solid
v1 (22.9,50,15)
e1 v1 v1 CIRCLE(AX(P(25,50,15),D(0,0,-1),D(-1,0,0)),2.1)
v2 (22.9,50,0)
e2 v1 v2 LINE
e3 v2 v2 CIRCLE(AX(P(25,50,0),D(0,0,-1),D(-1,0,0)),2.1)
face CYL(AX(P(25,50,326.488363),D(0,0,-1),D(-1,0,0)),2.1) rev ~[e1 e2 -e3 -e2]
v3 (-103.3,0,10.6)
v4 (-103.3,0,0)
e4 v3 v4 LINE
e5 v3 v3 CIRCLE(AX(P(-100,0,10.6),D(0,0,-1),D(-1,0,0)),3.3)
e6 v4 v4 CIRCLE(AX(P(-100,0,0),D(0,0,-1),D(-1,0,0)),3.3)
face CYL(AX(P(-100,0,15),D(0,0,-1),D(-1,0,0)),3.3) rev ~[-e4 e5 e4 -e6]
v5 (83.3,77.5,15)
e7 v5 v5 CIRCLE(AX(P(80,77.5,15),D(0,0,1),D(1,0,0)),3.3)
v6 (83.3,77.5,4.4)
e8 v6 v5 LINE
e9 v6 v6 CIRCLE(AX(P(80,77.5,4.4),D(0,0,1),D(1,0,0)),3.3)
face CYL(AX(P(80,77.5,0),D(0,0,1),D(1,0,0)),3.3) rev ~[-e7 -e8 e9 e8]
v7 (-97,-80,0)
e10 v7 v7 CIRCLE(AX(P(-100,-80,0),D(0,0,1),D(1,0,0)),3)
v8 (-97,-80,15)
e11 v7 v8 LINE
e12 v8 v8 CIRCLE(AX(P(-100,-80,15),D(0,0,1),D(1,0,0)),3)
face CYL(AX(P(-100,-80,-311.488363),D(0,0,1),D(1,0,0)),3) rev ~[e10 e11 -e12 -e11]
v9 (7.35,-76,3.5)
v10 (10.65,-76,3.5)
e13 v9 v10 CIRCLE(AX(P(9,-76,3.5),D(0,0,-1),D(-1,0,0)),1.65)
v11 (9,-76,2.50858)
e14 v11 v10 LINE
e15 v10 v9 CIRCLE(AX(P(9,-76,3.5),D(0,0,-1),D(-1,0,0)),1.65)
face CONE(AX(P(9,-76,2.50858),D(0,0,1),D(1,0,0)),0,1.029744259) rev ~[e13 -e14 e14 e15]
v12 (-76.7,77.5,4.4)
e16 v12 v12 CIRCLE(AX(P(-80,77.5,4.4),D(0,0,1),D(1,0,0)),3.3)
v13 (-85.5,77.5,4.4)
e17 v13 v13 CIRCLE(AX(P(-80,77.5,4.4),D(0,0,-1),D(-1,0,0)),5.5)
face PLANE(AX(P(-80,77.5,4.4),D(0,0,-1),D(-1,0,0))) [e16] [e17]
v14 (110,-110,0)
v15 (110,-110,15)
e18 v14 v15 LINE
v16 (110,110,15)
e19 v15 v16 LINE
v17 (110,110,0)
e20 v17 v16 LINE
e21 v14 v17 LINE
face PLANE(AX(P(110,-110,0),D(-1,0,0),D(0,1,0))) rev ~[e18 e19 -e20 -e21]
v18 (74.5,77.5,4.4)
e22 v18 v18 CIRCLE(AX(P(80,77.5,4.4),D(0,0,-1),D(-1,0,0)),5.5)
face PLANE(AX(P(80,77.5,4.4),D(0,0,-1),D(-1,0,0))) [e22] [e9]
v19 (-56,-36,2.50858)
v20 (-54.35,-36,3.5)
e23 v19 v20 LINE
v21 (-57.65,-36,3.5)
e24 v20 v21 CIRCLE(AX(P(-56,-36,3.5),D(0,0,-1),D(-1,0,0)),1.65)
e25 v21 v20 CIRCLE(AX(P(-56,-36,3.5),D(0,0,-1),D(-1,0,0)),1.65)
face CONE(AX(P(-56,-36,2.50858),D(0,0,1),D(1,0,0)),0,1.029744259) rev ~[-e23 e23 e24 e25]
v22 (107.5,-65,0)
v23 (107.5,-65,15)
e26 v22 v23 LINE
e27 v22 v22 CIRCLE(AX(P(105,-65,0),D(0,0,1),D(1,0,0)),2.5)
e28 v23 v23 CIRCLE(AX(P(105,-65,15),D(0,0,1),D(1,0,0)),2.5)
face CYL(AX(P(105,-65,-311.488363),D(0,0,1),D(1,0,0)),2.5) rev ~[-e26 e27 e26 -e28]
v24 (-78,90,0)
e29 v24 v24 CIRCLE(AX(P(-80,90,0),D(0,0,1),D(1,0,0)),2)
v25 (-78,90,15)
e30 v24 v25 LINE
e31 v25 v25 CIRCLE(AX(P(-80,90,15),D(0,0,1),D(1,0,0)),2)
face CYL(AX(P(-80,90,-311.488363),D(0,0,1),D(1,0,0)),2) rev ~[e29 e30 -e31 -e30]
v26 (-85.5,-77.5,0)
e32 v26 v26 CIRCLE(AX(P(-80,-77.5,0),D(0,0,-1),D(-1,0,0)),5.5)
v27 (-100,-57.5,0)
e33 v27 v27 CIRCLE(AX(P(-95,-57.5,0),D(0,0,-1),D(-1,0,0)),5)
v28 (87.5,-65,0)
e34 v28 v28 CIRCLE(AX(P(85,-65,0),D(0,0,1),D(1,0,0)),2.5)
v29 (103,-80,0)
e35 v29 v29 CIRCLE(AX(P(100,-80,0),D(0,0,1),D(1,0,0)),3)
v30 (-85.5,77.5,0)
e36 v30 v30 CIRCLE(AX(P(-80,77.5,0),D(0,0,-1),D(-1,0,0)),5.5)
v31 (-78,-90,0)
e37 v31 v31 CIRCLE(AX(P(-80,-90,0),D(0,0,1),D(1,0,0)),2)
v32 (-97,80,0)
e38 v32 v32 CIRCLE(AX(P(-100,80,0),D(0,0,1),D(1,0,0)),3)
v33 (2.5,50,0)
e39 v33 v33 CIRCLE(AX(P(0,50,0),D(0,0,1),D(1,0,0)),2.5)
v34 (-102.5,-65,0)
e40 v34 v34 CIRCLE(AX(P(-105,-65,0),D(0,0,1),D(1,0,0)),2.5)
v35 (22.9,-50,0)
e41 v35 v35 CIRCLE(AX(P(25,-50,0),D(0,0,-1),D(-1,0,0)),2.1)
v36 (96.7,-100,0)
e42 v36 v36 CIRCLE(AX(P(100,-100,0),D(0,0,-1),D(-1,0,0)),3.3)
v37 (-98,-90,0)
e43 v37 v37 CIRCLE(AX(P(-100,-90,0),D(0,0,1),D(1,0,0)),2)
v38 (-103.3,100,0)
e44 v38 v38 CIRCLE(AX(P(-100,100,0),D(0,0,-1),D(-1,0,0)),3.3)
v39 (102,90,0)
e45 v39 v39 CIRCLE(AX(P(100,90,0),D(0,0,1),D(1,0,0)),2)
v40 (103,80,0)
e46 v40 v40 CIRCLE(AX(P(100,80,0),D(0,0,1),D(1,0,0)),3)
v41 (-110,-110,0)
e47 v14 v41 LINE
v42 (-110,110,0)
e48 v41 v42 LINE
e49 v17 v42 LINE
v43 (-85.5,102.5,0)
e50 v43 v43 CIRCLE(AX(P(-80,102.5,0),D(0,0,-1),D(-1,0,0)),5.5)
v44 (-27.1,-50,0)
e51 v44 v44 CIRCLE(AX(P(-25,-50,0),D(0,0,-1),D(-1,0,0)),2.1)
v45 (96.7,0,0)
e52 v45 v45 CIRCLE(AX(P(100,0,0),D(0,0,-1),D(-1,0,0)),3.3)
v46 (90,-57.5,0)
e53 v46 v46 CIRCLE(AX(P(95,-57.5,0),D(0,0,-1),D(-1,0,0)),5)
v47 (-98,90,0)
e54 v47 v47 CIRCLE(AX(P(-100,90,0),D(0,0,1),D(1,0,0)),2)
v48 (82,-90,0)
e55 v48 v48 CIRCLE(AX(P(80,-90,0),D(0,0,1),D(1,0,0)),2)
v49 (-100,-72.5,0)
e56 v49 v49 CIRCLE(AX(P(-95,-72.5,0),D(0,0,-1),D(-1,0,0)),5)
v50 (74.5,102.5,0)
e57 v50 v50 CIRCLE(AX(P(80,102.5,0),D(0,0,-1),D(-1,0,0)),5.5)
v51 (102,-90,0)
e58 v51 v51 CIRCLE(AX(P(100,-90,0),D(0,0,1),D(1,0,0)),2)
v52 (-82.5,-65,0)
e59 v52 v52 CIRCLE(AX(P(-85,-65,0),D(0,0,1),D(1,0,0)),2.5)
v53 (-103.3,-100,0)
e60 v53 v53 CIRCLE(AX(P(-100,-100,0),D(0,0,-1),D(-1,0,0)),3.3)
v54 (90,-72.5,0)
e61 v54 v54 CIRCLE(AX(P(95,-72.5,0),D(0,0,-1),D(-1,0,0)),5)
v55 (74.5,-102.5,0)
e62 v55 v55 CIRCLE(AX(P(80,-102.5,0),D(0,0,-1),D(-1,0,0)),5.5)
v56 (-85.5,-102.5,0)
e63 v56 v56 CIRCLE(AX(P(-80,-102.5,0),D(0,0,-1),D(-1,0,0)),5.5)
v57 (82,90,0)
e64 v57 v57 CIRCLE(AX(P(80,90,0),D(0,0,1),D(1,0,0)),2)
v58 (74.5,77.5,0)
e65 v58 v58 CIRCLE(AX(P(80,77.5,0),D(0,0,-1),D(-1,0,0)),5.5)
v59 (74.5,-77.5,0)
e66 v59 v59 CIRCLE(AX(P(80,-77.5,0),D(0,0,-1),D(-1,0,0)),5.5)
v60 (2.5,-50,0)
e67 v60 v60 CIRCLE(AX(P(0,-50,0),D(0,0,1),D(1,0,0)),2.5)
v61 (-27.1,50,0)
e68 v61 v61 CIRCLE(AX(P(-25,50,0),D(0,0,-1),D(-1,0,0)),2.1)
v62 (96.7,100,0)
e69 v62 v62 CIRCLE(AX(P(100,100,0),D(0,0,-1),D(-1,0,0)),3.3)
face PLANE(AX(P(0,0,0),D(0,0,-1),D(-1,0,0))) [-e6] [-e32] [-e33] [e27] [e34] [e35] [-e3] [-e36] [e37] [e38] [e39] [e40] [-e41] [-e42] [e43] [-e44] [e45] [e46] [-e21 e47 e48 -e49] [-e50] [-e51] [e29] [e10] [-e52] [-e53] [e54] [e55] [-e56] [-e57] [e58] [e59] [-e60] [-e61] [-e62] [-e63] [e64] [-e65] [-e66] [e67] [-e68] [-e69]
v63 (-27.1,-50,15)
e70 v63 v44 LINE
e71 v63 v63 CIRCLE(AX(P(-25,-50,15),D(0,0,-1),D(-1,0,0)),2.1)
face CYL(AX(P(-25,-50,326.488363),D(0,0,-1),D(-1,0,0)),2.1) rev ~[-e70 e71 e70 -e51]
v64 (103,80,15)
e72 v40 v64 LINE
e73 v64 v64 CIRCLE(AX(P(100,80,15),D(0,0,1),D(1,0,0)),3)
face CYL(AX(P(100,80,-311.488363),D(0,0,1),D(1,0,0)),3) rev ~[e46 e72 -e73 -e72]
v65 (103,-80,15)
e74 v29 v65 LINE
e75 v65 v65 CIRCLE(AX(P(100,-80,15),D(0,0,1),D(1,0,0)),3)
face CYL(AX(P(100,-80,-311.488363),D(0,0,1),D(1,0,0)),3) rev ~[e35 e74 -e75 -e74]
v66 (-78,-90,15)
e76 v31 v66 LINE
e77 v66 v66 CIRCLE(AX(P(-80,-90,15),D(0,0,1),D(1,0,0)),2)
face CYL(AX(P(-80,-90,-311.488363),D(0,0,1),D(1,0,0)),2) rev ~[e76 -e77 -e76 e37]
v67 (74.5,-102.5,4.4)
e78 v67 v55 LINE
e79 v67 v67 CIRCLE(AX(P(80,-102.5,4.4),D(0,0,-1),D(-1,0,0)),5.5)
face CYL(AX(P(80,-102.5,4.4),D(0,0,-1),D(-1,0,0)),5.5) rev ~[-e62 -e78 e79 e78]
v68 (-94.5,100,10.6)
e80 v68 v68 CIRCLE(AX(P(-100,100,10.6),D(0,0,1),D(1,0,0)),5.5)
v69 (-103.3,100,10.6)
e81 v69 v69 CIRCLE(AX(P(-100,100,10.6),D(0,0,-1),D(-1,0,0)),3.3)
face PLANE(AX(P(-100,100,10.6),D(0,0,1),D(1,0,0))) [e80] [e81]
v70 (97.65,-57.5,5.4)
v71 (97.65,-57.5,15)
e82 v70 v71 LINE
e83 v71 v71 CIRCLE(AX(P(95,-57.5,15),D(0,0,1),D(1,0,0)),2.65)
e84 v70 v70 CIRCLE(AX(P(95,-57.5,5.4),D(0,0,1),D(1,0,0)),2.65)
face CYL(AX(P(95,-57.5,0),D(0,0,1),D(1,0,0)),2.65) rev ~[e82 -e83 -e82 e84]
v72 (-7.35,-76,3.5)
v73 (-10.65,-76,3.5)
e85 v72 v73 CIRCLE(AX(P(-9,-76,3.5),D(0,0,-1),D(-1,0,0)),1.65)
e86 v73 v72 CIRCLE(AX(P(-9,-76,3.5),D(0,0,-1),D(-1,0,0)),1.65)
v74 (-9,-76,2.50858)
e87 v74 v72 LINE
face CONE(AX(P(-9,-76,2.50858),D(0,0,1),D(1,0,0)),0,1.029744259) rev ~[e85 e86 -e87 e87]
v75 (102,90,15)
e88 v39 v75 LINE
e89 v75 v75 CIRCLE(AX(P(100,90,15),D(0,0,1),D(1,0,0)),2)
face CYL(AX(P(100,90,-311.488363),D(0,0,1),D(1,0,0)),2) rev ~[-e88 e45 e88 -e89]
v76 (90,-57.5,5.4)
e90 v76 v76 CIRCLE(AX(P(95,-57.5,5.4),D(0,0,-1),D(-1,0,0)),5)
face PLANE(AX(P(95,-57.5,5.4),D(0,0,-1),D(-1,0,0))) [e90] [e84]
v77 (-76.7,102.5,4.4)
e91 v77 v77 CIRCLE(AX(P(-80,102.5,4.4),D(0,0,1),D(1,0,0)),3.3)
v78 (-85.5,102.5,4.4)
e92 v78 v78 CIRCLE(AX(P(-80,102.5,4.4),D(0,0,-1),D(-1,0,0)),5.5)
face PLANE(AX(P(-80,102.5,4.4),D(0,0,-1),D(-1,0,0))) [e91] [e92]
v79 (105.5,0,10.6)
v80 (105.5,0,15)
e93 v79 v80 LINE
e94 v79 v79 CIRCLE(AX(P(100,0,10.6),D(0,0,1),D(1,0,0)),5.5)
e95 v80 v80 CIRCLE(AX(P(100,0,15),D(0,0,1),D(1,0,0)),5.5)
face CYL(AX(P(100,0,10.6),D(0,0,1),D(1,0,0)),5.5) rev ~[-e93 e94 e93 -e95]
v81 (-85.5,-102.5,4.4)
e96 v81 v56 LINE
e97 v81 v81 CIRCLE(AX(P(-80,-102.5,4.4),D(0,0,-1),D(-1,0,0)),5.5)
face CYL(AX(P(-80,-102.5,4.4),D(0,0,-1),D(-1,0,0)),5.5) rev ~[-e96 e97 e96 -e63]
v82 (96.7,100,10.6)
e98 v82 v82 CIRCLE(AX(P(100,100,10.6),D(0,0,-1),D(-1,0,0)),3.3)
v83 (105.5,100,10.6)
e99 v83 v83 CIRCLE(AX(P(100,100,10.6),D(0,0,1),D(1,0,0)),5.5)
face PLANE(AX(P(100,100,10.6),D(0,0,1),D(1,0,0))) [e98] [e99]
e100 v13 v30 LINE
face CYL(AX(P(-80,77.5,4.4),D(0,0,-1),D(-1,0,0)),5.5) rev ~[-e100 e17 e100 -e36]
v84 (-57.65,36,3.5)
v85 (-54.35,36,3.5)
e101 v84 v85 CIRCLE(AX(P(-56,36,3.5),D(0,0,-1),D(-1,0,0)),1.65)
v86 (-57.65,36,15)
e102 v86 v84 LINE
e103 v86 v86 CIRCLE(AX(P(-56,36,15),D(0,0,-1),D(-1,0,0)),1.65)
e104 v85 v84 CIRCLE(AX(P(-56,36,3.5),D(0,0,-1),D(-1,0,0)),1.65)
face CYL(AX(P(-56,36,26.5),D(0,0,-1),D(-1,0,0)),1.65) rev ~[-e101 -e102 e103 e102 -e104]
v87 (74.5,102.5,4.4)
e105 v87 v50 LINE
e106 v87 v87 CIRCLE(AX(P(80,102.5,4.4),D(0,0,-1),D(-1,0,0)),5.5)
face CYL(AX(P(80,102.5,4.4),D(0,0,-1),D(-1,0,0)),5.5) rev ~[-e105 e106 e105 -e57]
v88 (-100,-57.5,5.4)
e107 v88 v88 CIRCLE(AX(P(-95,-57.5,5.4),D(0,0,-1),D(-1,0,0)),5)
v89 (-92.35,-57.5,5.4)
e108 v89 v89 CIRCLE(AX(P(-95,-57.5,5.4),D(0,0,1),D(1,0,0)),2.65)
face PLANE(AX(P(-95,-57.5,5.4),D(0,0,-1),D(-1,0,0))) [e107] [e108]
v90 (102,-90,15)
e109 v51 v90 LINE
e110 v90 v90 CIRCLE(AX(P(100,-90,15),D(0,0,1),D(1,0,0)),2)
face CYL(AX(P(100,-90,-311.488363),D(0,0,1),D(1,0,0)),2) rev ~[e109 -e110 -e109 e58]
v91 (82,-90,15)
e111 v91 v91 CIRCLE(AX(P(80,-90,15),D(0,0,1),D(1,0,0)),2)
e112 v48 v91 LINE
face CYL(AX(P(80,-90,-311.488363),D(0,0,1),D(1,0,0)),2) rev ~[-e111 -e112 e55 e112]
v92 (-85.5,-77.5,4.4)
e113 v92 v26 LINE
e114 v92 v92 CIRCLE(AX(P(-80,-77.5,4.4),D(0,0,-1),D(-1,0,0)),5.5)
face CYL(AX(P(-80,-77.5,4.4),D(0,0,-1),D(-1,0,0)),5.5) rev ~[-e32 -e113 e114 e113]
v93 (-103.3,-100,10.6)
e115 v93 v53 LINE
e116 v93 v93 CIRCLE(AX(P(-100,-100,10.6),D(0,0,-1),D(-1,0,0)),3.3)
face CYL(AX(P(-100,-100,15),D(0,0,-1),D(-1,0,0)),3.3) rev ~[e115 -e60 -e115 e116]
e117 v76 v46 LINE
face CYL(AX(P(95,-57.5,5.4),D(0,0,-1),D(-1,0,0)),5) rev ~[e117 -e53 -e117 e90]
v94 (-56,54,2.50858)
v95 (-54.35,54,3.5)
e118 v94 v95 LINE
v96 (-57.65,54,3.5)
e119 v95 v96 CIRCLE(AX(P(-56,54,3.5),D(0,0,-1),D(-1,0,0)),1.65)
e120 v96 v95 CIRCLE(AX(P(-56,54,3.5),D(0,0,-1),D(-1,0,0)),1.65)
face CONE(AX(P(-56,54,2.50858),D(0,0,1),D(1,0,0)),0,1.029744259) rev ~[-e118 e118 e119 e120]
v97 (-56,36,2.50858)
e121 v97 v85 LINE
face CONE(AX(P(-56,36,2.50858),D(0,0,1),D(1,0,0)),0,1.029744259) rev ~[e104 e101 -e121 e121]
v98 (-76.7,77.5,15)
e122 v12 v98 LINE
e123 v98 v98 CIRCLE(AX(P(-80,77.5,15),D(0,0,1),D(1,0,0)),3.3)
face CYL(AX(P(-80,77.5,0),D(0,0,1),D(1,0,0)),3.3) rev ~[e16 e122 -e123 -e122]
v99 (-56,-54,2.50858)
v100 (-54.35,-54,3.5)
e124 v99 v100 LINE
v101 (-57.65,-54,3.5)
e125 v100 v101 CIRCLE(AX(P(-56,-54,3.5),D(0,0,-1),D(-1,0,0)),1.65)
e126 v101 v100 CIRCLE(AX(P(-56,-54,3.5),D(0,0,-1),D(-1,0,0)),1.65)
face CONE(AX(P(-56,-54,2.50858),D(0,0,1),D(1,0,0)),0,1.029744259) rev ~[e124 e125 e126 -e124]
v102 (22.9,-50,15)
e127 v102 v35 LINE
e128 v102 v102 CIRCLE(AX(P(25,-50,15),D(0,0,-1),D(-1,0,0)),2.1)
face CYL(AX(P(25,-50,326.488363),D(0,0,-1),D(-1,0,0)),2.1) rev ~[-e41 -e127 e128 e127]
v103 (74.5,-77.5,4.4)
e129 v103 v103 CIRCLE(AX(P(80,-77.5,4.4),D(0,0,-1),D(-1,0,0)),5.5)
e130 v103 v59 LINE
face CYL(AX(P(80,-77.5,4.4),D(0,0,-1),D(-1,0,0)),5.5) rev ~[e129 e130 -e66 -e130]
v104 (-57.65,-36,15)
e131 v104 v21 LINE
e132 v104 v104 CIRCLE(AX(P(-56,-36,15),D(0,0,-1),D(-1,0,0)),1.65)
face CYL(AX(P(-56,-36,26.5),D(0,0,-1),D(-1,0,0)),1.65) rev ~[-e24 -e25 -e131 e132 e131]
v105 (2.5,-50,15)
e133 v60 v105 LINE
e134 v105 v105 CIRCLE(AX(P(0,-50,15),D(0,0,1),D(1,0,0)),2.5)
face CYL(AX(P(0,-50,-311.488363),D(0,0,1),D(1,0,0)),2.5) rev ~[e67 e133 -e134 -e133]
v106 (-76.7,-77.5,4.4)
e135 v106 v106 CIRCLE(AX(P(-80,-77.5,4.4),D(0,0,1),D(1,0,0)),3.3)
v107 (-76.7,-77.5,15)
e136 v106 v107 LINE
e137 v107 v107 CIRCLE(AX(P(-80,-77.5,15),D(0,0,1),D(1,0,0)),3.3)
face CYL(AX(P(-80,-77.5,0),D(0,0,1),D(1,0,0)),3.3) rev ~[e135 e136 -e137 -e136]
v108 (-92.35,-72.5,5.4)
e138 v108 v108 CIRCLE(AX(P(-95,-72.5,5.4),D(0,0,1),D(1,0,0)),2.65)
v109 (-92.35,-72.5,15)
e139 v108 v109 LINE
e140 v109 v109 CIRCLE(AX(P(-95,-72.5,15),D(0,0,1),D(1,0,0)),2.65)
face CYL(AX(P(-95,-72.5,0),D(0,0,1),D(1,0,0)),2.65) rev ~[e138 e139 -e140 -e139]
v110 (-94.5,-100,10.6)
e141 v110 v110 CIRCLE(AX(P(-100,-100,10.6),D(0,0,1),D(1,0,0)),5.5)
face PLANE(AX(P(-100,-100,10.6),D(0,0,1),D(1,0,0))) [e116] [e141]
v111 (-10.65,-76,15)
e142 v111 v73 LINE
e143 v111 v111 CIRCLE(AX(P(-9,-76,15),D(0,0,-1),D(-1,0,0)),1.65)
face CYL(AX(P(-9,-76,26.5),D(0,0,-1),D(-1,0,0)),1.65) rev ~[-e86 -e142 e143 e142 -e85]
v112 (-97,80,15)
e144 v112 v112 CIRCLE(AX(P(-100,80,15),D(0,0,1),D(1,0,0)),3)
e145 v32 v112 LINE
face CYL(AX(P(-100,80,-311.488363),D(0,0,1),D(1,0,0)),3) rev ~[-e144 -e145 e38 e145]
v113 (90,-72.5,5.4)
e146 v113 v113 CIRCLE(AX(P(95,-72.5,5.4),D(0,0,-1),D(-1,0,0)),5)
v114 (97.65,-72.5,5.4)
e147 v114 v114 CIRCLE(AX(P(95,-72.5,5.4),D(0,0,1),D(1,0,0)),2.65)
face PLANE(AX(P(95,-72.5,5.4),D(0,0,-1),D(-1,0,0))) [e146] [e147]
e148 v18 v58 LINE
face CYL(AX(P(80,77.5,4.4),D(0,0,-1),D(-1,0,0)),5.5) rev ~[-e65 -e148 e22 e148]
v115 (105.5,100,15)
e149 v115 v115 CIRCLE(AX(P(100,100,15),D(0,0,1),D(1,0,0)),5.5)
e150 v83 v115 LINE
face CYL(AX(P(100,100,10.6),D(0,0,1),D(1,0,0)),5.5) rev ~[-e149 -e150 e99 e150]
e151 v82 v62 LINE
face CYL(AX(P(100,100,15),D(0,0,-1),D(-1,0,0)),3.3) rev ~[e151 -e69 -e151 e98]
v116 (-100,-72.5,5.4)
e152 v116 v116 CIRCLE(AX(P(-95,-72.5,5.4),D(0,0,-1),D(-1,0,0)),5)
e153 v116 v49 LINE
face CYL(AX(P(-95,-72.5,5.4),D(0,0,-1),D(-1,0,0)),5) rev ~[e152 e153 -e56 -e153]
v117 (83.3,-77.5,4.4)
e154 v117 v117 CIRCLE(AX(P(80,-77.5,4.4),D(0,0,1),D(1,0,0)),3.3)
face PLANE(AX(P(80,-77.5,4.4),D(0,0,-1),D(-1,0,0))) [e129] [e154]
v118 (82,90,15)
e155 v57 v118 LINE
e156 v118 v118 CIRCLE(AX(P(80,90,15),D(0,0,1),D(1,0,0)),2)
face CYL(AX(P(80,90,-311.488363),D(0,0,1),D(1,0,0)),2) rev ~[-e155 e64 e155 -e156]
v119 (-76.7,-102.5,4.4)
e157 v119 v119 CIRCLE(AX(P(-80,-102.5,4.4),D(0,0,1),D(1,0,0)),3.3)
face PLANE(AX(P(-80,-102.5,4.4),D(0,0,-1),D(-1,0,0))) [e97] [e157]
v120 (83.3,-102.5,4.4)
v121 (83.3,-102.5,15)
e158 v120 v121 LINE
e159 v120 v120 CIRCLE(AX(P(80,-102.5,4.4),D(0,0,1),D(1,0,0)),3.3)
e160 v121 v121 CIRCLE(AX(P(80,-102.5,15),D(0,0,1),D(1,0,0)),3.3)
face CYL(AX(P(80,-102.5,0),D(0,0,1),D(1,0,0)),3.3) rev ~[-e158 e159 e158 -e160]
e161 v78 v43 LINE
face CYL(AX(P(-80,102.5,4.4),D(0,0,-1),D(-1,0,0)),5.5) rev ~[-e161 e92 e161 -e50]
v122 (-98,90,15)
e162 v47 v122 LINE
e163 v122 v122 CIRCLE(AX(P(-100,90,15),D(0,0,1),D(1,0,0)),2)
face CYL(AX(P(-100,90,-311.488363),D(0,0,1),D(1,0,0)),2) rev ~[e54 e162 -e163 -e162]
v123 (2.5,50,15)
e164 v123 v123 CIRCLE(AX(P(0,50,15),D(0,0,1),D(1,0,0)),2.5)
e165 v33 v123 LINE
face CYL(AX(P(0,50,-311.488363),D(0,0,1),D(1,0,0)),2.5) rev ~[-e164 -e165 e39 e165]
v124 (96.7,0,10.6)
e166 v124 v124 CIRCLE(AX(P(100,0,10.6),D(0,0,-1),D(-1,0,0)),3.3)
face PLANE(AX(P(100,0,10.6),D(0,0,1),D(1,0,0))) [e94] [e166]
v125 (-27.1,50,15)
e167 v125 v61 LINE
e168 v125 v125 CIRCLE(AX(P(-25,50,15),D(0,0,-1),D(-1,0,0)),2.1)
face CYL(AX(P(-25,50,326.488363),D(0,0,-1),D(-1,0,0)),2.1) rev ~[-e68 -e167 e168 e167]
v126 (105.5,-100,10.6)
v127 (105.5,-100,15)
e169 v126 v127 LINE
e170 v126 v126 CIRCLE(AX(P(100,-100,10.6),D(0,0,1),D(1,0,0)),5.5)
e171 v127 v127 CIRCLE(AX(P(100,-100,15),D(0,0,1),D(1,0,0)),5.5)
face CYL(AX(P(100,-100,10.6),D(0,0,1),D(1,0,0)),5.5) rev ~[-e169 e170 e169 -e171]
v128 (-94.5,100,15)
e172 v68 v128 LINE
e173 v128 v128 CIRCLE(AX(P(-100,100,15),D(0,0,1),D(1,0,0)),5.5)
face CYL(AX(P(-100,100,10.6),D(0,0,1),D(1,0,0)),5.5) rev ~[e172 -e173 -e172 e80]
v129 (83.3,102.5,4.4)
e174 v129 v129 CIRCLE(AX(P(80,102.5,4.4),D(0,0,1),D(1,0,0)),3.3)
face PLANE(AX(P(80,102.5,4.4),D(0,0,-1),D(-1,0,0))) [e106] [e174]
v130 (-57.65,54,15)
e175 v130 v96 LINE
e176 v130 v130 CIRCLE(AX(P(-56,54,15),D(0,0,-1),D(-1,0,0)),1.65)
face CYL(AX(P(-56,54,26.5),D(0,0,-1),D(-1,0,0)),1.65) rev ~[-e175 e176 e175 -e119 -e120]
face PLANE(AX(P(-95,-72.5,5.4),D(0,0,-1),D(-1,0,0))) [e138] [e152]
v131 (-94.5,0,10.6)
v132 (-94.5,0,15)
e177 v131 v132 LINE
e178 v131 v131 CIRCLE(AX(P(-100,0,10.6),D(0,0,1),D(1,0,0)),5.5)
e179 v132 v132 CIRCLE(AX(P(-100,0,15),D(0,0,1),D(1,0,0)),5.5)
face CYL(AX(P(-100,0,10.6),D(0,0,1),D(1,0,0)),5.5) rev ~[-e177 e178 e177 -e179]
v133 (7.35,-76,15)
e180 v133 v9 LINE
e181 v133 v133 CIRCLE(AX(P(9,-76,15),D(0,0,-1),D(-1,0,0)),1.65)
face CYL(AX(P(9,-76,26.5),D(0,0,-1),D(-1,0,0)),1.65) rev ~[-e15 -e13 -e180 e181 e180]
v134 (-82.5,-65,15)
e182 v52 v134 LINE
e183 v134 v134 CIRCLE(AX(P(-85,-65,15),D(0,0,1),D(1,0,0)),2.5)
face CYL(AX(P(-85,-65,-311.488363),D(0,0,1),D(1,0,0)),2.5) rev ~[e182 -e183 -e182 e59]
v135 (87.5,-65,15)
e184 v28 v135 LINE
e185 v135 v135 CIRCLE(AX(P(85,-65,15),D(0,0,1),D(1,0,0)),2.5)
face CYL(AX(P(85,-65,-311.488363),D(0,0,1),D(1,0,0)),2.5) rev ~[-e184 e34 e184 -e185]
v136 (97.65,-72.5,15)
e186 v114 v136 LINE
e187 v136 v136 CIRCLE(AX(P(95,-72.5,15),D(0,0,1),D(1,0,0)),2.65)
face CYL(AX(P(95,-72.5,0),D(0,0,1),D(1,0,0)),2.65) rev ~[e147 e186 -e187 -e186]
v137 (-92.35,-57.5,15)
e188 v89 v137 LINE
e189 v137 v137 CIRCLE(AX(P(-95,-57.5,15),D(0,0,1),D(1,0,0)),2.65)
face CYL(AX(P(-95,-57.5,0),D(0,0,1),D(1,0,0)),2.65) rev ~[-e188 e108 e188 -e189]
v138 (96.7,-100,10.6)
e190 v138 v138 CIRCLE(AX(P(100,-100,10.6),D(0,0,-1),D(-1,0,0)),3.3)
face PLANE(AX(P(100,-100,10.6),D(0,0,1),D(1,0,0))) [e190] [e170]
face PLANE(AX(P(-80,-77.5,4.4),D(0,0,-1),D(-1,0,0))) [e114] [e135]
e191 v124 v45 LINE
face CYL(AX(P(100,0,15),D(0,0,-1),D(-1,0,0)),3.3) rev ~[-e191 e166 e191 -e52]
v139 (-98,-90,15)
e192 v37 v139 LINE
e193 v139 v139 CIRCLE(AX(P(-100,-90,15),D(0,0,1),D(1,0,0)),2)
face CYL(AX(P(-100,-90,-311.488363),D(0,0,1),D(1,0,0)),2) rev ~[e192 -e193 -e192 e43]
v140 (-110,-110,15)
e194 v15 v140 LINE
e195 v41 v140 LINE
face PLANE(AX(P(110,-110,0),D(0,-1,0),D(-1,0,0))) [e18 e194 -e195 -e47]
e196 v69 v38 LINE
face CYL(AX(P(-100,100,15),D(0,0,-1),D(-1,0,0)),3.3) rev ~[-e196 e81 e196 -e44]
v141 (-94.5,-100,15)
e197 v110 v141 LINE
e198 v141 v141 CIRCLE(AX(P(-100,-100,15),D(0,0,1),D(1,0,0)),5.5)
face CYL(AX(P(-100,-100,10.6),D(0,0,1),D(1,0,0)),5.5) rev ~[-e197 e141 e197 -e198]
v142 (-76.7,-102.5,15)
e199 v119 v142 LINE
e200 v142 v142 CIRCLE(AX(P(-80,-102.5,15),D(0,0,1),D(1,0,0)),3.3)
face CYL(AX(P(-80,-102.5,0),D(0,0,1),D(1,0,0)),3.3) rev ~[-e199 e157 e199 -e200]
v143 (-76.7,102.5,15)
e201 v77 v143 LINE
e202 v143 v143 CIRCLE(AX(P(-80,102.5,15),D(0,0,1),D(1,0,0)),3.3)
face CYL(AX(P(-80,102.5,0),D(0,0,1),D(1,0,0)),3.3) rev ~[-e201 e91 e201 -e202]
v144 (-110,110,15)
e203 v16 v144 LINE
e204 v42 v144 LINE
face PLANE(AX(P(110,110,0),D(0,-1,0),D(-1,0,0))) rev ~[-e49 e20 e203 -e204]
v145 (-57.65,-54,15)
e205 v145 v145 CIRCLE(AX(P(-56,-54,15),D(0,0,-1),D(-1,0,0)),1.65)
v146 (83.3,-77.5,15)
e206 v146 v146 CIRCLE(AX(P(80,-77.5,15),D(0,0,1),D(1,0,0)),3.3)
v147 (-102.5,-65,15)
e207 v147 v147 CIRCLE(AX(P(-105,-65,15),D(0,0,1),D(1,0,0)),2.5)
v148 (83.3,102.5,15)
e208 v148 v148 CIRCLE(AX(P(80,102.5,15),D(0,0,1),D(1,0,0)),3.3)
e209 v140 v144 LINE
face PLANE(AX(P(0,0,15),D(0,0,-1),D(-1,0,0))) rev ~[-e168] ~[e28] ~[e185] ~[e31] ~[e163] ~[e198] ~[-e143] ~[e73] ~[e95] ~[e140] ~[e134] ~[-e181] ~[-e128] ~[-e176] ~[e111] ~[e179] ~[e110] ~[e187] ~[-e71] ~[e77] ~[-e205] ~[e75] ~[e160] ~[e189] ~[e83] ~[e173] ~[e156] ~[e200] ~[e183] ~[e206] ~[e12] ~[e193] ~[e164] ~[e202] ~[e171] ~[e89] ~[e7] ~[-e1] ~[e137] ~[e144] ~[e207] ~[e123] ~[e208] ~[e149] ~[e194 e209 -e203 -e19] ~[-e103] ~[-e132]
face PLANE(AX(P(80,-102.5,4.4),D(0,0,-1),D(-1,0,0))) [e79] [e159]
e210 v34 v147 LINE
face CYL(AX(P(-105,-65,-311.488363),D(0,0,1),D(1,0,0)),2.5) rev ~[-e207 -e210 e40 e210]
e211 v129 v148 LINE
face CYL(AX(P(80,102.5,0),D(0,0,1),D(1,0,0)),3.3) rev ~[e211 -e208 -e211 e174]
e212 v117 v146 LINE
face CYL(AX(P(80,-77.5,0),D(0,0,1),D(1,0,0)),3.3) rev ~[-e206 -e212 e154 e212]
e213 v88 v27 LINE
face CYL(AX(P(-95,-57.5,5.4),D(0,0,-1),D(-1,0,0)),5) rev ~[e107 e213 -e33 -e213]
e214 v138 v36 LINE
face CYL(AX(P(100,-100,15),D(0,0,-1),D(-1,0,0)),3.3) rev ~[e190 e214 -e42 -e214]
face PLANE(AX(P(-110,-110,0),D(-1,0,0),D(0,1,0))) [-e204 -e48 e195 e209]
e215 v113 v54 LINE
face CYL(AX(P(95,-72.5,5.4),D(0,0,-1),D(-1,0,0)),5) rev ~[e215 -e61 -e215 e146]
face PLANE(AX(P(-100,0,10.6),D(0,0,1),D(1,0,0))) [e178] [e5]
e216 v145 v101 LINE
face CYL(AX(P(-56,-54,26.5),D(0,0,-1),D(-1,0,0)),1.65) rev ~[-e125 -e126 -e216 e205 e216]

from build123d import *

# Parameters (mm, degrees)
SKIZZE1_W                                            = 220
SKIZZE1_H                                            = 220
AUFSATZ_LINEAR_AUSTRAGEN1_DEPTH                      = 15
F_6_0MM_STIFTLOCH1_D                                 = 6
F_5_0MM_STIFTLOCH1_D                                 = 5
M5_GEWINDEBOHRUNG1_D                                 = 4.2
STIRNSENKUNG_F_R_M6_ZYLINDERSCHRAUBE_MIT_D           = 6.6
STIRNSENKUNG_F_R_M6_ZYLINDERSCHRAUBE_MIT_CBORE_D     = 11
STIRNSENKUNG_F_R_M6_ZYLINDERSCHRAUBE_MIT_CBORE_DEPTH = 4.4
M4_GEWINDEBOHRUNG1_D                                 = 3.3
M4_GEWINDEBOHRUNG1_DEPTH                             = 11.5
M4_GEWINDEBOHRUNG1_TIP                               = 0.991420021
STIRNSENKUNG_F_R_M5_SECHSKANTSCHRAUBE_MI_D           = 5.3
STIRNSENKUNG_F_R_M5_SECHSKANTSCHRAUBE_MI_CBORE_D     = 10
STIRNSENKUNG_F_R_M5_SECHSKANTSCHRAUBE_MI_CBORE_DEPTH = 5.4
STIRNSENKUNG_F_R_M6_ZYLINDERSCHRAUBE_2_D             = 6.6
STIRNSENKUNG_F_R_M6_ZYLINDERSCHRAUBE_2_CBORE_D       = 11
STIRNSENKUNG_F_R_M6_ZYLINDERSCHRAUBE_2_CBORE_DEPTH   = 4.4
F_4_0MM_STIFTLOCH1_D                                 = 4


with BuildPart() as part:
    # Skizze1 → Aufsatz-Linear austragen1 (new body)
    with BuildSketch(Plane(origin=(0, 0, 0), x_dir=(-1, 0, 0), z_dir=(0, 0, -1))):
        Rectangle(SKIZZE1_W, SKIZZE1_H)
    extrude(amount=-AUFSATZ_LINEAR_AUSTRAGEN1_DEPTH)

    # Ø6.0mm Stiftloch1 (through all)
    with Locations(Plane(origin=(0, 0, 0), x_dir=(-1, 0, 0), z_dir=(0, 0, -1))):
        with Locations((-100, -80), (-100, 80), (100, 80), (100, -80)):
            Hole(F_6_0MM_STIFTLOCH1_D / 2)

    # Ø5.0mm Stiftloch1 (through all)
    with Locations(Plane(origin=(0, 0, 0), x_dir=(-1, 0, 0), z_dir=(0, 0, -1))):
        with Locations((0, 50), (0, -50), (105, -65), (85, -65), (-85, -65), (-105, -65)):
            Hole(F_5_0MM_STIFTLOCH1_D / 2)

    # M5 Gewindebohrung1 (through all)
    with Locations(Plane.XY.offset(15)):
        with Locations((-25, 50), (25, 50), (25, -50), (-25, -50)):
            Hole(M5_GEWINDEBOHRUNG1_D / 2)

    # Stirnsenkung f_r M6 Zylinderschraube mit (through all)
    with Locations(Plane.XY.offset(15)):
        with Locations((100, -100), (100, 0), (-100, -100), (-100, 0), (-100, 100), (100, 100)):
            CounterBoreHole(STIRNSENKUNG_F_R_M6_ZYLINDERSCHRAUBE_MIT_D / 2, STIRNSENKUNG_F_R_M6_ZYLINDERSCHRAUBE_MIT_CBORE_D / 2, STIRNSENKUNG_F_R_M6_ZYLINDERSCHRAUBE_MIT_CBORE_DEPTH)

    # M4 Gewindebohrung1
    with Locations(Plane.XY.offset(15)):
        with Locations((-56, 54), (-56, 36), (-56, -36), (-56, -54), (9, -76), (-9, -76)):
            Hole(M4_GEWINDEBOHRUNG1_D / 2, depth=M4_GEWINDEBOHRUNG1_DEPTH)
            with Locations((0, 0, -(M4_GEWINDEBOHRUNG1_DEPTH + M4_GEWINDEBOHRUNG1_TIP / 2))):  # 118° drill point
                Cone(0, M4_GEWINDEBOHRUNG1_D / 2, M4_GEWINDEBOHRUNG1_TIP, mode=Mode.SUBTRACT)

    # Stirnsenkung für M5 Sechskantschraube mit Schaft1 (through all)
    with Locations(Plane(origin=(0, 0, 0), x_dir=(-1, 0, 0), z_dir=(0, 0, -1))):
        with Locations((95, -57.5), (95, -72.5), (-95, -57.5), (-95, -72.5)):
            CounterBoreHole(STIRNSENKUNG_F_R_M5_SECHSKANTSCHRAUBE_MI_D / 2, STIRNSENKUNG_F_R_M5_SECHSKANTSCHRAUBE_MI_CBORE_D / 2, STIRNSENKUNG_F_R_M5_SECHSKANTSCHRAUBE_MI_CBORE_DEPTH)

    # Stirnsenkung f_r M6 Zylinderschraube 2 (through all)
    with Locations(Plane(origin=(0, 0, 0), x_dir=(-1, 0, 0), z_dir=(0, 0, -1))):
        with Locations((-80, 102.5), (-80, 77.5), (80, 77.5), (80, 102.5), (80, -77.5), (80, -102.5), (-80, -77.5), (-80, -102.5)):
            CounterBoreHole(STIRNSENKUNG_F_R_M6_ZYLINDERSCHRAUBE_2_D / 2, STIRNSENKUNG_F_R_M6_ZYLINDERSCHRAUBE_2_CBORE_D / 2, STIRNSENKUNG_F_R_M6_ZYLINDERSCHRAUBE_2_CBORE_DEPTH)

    # Ø4.0mm Stiftloch1 (through all)
    with Locations(Plane(origin=(0, 0, 0), x_dir=(-1, 0, 0), z_dir=(0, 0, -1))):
        with Locations((-100, 90), (-80, 90), (80, 90), (100, 90), (100, -90), (80, -90), (-80, -90), (-100, -90)):
            Hole(F_4_0MM_STIFTLOCH1_D / 2)


solid = part.part
